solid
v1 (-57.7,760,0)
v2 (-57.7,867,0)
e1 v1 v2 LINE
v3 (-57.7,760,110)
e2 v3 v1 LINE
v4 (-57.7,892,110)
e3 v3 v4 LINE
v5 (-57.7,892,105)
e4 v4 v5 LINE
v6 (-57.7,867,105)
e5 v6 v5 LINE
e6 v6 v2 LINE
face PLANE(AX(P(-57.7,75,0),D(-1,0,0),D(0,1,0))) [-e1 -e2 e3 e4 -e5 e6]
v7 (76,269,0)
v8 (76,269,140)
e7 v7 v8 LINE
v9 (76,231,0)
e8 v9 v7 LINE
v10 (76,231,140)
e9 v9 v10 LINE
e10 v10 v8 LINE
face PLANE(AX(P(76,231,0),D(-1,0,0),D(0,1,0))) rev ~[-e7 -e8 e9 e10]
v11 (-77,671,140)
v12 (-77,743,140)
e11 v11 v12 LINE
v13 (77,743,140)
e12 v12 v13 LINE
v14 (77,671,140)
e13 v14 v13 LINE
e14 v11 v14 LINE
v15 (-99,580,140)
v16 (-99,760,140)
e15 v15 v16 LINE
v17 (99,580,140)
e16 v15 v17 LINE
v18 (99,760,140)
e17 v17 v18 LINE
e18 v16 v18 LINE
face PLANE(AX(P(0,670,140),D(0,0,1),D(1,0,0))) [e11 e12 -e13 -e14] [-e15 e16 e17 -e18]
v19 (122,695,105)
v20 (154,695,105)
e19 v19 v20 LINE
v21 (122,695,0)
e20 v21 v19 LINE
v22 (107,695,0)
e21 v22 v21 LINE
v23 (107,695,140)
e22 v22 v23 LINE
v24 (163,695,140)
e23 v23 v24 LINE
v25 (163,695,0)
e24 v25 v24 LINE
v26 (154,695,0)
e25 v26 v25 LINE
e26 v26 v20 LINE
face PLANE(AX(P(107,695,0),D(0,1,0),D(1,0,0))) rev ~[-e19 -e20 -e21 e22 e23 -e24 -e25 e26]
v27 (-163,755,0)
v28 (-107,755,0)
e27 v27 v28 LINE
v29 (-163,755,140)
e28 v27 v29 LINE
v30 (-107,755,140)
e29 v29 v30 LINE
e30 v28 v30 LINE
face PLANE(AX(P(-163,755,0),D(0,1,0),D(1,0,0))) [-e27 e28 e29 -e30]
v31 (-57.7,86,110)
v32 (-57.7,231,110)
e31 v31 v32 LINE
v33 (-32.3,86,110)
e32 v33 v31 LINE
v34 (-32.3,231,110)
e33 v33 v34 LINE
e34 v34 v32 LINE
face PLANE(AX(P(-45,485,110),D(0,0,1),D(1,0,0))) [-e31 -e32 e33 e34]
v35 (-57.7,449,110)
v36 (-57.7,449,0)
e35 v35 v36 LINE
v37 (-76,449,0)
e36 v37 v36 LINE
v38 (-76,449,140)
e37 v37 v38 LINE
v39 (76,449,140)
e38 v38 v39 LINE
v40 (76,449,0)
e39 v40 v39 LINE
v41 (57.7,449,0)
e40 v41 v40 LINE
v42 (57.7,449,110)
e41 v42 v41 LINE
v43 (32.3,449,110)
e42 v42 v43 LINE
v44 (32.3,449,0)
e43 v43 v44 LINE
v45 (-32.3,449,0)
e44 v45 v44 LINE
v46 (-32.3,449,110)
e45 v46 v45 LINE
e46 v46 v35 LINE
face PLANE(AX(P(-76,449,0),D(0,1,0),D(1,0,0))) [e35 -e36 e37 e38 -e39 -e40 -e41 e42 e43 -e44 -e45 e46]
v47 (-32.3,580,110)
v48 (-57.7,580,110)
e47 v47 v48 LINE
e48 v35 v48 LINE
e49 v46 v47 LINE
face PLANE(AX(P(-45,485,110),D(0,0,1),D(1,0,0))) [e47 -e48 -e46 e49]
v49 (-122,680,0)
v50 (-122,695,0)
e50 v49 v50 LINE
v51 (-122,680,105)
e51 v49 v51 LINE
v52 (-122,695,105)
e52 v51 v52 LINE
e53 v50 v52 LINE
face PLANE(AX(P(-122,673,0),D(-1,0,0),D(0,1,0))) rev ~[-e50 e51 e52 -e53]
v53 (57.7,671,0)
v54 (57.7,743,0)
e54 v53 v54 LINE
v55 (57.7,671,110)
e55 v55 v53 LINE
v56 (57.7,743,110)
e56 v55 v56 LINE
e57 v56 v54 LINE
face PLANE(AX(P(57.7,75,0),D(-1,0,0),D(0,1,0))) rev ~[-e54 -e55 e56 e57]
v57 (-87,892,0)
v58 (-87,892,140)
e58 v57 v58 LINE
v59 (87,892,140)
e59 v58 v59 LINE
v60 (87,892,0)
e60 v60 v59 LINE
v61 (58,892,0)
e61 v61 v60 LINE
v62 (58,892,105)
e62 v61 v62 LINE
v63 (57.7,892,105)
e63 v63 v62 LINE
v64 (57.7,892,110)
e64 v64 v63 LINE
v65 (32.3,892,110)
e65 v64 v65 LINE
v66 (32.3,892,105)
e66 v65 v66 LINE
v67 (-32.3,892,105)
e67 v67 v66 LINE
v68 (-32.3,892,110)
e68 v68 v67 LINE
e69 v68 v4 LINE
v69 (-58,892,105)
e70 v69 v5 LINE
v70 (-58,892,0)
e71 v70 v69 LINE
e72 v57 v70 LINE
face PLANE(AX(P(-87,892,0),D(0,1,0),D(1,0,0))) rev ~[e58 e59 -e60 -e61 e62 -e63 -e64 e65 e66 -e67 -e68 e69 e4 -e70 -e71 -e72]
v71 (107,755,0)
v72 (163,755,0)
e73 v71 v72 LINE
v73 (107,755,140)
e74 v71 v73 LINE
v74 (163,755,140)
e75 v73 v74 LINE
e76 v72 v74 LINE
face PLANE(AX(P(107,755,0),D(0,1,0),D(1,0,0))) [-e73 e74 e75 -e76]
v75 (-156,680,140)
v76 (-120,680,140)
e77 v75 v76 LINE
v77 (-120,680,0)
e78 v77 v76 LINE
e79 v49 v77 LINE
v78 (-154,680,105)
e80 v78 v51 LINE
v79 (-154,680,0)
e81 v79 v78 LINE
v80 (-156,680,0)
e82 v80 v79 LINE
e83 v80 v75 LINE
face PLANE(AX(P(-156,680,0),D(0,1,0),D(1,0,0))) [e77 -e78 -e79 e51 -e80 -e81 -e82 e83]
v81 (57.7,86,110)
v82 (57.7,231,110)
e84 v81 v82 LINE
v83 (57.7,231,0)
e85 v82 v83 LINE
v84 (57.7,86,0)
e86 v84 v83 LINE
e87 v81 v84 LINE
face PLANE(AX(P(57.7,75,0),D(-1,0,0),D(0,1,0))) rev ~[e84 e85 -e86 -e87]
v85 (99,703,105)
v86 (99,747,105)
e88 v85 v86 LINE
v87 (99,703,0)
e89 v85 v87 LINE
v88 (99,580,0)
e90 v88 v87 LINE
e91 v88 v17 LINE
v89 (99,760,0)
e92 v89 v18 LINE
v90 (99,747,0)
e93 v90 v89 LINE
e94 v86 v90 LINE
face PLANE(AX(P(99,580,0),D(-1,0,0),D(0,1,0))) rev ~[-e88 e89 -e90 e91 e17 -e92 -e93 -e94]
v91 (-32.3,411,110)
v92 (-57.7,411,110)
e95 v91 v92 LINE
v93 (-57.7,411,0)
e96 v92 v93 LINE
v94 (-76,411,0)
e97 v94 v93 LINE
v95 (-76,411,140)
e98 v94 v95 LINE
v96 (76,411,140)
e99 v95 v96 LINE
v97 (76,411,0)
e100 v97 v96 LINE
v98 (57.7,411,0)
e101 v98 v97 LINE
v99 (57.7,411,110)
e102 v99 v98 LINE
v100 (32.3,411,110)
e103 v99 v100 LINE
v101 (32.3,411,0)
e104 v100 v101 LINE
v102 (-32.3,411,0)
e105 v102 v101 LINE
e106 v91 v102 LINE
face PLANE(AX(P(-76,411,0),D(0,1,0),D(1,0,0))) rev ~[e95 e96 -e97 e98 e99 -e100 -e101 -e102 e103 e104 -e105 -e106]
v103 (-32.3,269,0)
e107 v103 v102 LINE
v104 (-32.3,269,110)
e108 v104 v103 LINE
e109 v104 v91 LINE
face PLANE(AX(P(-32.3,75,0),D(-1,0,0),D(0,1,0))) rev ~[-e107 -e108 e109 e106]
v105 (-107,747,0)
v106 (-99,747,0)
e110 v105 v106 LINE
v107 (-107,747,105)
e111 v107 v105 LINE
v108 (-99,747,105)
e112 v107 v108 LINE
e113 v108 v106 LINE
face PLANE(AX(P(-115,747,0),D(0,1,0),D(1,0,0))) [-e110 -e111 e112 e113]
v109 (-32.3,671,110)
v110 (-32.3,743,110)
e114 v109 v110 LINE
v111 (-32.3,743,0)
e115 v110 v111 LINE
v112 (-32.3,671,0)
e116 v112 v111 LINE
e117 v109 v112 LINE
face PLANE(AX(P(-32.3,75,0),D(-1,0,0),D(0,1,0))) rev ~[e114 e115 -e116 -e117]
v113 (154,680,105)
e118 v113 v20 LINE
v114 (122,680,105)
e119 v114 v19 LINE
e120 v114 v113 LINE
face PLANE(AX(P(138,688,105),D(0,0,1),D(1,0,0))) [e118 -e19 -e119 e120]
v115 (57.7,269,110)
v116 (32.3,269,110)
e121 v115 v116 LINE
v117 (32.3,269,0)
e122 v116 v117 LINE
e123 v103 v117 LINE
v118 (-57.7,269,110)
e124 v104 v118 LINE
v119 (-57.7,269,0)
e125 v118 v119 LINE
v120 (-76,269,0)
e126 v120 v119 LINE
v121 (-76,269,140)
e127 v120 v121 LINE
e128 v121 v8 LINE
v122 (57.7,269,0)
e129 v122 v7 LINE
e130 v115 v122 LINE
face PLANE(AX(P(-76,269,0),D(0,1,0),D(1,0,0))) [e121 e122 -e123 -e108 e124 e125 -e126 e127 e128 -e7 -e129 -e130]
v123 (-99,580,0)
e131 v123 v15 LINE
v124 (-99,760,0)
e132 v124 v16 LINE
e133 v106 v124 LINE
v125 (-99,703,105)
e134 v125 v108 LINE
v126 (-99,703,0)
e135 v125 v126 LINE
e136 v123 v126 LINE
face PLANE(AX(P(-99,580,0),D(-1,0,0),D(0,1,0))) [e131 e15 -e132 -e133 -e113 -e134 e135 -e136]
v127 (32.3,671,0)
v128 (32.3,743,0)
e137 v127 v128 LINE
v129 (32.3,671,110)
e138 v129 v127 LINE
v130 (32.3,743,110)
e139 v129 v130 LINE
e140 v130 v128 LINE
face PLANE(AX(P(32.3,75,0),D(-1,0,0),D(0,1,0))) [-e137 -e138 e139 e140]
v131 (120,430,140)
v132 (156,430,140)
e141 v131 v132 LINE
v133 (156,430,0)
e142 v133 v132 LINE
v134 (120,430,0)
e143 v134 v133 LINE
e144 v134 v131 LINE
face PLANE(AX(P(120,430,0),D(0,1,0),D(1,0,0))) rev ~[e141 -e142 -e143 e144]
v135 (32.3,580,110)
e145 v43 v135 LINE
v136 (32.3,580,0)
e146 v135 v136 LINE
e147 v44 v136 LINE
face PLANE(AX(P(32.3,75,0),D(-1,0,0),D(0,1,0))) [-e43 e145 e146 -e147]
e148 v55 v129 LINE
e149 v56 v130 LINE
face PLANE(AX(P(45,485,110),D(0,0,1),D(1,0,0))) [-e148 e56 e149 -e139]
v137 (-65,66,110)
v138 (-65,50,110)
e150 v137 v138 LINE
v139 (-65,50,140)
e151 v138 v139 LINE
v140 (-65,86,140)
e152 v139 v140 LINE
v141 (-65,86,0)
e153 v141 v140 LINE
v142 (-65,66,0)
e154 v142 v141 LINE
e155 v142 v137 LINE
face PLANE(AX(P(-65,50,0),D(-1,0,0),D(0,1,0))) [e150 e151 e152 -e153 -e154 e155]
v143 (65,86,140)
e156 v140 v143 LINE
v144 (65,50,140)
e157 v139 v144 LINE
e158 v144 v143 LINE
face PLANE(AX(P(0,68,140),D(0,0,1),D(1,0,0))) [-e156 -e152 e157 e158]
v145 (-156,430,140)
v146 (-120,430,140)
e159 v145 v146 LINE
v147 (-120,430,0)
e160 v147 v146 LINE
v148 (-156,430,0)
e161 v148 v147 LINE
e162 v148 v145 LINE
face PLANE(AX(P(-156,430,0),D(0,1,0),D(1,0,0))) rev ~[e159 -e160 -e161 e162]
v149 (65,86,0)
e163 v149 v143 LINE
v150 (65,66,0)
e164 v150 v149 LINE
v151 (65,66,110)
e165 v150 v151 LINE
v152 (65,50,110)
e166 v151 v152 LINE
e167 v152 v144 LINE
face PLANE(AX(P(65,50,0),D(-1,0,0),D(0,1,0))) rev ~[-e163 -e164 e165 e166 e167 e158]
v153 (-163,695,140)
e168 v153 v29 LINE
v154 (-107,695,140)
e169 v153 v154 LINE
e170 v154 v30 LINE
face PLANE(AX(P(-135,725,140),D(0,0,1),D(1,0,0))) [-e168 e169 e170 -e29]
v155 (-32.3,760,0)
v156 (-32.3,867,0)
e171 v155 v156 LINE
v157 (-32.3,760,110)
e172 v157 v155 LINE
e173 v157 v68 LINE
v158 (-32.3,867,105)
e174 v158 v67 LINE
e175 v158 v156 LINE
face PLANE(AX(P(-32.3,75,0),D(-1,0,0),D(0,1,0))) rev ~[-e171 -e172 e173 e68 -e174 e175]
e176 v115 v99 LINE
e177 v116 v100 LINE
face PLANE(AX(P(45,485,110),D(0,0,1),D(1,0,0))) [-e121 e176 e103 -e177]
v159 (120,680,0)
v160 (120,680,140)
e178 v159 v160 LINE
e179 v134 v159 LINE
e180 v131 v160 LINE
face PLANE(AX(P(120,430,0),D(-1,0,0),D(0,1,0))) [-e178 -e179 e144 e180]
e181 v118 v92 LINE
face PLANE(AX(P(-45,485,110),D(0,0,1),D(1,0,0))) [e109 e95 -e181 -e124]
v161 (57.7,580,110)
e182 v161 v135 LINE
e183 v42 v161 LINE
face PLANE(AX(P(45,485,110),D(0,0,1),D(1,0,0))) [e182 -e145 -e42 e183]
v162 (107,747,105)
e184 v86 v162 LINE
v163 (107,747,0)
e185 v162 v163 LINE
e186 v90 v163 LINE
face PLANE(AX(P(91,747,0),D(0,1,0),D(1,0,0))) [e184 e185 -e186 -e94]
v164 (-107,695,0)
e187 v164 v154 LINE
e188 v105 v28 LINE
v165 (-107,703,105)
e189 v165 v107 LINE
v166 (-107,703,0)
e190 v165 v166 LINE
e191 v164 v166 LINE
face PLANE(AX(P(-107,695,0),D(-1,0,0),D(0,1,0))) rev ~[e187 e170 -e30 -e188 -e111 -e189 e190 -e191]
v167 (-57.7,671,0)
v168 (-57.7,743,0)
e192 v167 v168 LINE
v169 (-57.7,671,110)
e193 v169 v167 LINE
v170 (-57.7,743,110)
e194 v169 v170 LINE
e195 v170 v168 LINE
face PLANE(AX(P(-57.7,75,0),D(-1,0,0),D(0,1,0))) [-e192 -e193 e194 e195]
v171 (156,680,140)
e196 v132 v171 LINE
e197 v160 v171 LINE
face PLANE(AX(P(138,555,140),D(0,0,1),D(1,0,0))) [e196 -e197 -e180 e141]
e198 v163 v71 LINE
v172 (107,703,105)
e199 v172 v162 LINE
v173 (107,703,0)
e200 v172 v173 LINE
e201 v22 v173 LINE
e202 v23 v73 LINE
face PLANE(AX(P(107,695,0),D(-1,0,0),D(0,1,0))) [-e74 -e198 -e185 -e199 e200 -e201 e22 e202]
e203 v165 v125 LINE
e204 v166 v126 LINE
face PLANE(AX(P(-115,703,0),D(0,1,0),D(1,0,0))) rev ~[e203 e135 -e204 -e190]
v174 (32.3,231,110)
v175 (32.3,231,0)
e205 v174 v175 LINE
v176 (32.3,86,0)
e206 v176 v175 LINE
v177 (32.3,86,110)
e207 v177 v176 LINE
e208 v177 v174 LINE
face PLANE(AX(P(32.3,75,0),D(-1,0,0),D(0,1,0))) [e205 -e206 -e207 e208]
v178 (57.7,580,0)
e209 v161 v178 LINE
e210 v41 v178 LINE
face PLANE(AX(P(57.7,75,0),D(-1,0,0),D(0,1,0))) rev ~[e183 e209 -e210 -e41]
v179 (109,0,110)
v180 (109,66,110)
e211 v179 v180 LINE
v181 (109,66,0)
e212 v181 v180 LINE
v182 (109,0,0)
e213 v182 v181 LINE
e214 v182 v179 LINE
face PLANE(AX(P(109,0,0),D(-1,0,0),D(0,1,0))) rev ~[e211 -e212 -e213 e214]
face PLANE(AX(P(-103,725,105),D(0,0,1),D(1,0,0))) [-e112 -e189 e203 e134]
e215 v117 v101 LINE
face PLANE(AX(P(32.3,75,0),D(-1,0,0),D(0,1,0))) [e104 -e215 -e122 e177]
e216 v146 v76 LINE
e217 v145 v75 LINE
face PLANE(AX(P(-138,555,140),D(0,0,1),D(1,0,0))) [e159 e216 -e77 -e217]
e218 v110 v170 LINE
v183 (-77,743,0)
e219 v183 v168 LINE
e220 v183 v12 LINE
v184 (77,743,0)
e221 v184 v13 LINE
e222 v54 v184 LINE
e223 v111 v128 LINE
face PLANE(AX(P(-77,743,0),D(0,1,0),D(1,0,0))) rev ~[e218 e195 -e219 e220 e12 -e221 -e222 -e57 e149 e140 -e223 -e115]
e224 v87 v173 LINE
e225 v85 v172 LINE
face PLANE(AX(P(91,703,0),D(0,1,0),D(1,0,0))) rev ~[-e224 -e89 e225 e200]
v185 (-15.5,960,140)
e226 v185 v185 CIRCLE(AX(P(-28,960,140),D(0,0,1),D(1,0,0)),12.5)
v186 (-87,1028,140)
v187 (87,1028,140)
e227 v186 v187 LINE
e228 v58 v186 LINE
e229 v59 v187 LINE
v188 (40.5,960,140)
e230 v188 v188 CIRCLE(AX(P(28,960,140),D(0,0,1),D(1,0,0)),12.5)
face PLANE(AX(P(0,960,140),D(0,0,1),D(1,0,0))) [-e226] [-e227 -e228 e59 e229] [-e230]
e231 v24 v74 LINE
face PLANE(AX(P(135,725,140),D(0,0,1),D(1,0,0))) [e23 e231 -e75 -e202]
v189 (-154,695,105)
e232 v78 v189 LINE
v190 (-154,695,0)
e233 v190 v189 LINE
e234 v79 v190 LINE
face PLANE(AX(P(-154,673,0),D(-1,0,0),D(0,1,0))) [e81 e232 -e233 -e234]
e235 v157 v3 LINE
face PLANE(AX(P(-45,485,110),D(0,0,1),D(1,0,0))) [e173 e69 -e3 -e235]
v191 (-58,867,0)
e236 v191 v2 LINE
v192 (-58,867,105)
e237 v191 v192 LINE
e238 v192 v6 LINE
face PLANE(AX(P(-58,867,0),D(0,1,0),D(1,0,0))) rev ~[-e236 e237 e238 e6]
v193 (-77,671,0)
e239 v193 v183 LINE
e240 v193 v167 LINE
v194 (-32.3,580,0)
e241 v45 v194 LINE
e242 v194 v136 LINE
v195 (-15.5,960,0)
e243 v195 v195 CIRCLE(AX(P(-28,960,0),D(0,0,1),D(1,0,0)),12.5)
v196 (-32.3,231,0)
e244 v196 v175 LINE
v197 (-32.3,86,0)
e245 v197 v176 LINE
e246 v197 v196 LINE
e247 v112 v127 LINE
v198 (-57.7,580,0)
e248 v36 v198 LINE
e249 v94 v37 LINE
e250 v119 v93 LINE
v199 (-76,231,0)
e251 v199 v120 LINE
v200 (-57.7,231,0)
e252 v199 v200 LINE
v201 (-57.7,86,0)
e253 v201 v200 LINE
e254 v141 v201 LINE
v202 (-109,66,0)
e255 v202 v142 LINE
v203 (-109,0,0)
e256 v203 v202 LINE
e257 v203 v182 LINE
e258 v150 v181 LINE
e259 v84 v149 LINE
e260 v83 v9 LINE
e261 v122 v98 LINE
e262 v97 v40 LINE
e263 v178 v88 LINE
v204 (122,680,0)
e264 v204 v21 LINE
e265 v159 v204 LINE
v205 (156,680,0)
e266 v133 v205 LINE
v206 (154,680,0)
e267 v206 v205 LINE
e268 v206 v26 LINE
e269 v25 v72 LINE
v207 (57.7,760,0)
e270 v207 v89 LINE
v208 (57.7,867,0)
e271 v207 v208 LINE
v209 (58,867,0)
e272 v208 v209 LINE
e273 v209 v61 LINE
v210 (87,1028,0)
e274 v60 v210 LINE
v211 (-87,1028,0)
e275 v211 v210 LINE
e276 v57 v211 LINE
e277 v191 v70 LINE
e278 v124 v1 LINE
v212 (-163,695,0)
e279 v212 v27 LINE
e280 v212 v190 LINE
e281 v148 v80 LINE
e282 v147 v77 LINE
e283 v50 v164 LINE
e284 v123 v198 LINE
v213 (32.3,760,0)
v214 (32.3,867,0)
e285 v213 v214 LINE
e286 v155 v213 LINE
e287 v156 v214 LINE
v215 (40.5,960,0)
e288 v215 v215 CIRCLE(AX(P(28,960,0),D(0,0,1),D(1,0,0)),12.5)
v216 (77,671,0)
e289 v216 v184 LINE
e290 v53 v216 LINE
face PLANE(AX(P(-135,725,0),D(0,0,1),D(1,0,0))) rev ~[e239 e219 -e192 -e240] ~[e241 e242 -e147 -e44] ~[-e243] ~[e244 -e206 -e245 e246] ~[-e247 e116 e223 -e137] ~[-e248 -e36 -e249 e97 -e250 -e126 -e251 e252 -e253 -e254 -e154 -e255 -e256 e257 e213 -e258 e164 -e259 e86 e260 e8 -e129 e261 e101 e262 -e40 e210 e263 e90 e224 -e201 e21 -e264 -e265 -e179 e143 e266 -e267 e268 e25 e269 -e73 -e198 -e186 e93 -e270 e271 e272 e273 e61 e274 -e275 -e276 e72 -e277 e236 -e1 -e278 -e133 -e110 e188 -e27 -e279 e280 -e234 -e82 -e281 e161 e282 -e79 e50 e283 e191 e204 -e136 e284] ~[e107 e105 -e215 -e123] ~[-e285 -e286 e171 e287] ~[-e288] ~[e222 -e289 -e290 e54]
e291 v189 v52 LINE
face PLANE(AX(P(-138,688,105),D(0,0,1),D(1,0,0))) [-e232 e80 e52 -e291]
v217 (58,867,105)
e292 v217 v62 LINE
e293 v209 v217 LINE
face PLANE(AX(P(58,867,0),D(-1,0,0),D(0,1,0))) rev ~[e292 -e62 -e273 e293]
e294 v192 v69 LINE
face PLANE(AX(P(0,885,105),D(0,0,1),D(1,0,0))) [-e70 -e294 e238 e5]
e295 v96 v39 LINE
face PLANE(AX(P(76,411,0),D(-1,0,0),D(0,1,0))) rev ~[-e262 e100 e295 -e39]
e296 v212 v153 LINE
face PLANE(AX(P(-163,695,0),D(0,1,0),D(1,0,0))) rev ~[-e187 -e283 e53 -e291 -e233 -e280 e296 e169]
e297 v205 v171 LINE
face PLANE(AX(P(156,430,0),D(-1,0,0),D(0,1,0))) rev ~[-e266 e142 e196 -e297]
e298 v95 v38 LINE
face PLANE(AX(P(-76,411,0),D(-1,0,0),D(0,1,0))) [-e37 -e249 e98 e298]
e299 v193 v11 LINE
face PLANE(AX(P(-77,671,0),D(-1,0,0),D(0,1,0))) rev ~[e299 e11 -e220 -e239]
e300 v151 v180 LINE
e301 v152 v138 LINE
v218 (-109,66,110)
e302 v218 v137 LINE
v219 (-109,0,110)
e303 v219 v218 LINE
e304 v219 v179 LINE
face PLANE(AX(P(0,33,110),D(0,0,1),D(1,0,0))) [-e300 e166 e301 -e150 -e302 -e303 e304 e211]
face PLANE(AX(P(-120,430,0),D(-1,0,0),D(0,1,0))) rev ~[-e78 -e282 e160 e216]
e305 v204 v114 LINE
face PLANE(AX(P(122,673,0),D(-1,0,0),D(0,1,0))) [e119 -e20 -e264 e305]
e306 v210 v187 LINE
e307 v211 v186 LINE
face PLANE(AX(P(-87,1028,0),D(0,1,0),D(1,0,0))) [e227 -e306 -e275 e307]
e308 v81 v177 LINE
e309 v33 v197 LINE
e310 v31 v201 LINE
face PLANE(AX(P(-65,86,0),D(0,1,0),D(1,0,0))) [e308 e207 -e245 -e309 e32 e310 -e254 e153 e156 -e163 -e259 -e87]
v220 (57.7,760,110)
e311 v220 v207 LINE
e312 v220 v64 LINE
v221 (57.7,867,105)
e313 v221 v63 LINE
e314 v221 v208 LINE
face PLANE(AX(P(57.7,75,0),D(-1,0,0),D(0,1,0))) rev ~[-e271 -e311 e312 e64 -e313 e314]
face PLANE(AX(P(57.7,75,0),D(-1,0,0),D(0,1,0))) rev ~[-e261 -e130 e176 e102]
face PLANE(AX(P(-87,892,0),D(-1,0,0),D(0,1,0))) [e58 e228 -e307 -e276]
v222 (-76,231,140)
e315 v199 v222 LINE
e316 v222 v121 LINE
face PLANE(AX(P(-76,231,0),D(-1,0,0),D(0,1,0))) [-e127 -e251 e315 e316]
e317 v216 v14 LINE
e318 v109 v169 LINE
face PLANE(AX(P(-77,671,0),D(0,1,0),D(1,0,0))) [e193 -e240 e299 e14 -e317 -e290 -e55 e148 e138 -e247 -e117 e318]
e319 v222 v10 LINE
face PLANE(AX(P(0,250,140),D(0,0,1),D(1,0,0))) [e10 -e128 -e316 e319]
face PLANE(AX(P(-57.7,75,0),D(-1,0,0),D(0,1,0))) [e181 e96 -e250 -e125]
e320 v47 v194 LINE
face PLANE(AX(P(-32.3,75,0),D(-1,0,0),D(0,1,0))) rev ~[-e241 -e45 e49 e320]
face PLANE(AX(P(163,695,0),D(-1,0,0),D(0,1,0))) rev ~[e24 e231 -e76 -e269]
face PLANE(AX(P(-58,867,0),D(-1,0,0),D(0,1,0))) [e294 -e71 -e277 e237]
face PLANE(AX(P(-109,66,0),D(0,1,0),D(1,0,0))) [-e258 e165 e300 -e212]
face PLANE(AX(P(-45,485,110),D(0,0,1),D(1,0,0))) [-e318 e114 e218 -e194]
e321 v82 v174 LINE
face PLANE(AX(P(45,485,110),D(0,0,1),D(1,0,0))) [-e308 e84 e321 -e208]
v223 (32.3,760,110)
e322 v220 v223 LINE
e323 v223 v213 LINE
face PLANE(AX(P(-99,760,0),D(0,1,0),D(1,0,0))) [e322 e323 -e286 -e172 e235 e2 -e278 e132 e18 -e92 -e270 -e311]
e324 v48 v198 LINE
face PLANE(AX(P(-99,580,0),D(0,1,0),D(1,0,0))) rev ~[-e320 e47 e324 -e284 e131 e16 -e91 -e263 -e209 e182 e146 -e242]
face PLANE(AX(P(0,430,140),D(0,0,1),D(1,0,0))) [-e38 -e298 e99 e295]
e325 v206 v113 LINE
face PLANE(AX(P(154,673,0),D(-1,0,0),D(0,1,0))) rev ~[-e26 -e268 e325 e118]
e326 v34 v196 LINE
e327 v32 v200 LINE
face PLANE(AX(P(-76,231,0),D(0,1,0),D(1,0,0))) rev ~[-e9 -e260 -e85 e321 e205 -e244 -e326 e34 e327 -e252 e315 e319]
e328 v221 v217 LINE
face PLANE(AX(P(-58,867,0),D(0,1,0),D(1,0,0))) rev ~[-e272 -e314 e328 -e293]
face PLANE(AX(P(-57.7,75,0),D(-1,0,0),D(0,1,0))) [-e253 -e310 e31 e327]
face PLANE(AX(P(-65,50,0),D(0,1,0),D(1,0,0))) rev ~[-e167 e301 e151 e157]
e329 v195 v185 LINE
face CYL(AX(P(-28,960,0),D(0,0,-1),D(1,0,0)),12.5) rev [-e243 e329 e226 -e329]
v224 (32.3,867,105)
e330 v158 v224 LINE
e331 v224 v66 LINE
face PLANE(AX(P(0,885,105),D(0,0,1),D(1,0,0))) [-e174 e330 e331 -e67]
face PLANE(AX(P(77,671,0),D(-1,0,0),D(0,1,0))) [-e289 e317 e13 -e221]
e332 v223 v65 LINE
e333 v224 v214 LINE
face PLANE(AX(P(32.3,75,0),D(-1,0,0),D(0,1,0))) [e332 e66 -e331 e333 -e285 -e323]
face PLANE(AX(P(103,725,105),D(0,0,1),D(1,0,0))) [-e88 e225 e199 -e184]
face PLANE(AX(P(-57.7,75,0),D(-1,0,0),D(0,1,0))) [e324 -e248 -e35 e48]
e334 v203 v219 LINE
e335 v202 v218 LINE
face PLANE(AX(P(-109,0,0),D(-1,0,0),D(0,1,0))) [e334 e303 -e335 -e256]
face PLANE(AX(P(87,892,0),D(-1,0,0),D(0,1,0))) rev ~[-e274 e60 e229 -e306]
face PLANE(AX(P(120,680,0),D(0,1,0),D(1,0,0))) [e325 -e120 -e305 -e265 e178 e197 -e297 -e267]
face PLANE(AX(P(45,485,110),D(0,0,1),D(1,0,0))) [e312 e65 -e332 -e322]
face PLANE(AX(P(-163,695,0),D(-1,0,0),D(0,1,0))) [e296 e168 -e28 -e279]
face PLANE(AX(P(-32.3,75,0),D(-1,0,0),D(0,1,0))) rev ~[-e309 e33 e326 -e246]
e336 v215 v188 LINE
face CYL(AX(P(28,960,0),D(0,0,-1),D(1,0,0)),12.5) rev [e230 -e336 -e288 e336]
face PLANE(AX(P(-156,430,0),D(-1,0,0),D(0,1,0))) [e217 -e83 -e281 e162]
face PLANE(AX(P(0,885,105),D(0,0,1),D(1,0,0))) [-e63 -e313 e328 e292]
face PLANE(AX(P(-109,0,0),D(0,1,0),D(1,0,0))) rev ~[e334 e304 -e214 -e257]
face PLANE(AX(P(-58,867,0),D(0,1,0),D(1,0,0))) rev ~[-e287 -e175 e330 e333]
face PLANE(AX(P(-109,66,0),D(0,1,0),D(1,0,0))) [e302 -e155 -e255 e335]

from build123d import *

# Parameters (mm, degrees)
SKETCH1_W             = 218
SKETCH1_H             = 66
BOSS_EXTRUDE1_DEPTH   = 110
SKETCH1_W_2           = 25.4
SKETCH1_H_2           = 820
BOSS_EXTRUDE1_2_DEPTH = 110
BOSS_EXTRUDE1_3_DEPTH = 110
SKETCH2_W             = 130
SKETCH2_H             = 36
SKETCH2_W_2           = 152
SKETCH2_H_2           = 38
SKETCH2_W_3           = 198
SKETCH2_H_3           = 180
SKETCH2_W_4           = 154
SKETCH2_H_4           = 72
SKETCH2_W_5           = 56
SKETCH2_H_5           = 60
SKETCH2_W_6           = 36
SKETCH2_H_6           = 250
SKETCH2_W_7           = 174
SKETCH2_H_7           = 136
SKETCH2_R             = 12.5
BOSS_EXTRUDE2_DEPTH   = 140
SKETCH3_W             = 24
SKETCH3_H             = 44
SKETCH3_W_2           = 32
SKETCH3_H_2           = 30
SKETCH3_W_3           = 116
SKETCH3_H_3           = 36
BOSS_EXTRUDE3_DEPTH   = 105


with BuildPart() as part:
    # Sketch1 → Boss-Extrude1 (new body)
    with BuildSketch(Plane.XY):
        with Locations((0, 33)):
            Rectangle(SKETCH1_W, SKETCH1_H)
    extrude(amount=BOSS_EXTRUDE1_DEPTH)



with BuildPart() as body_2:
    # Sketch1 → Boss-Extrude1 2 (new body)
    with BuildSketch(Plane.XY):
        with Locations((-45, 485)):
            Rectangle(SKETCH1_W_2, SKETCH1_H_2)
    extrude(amount=BOSS_EXTRUDE1_2_DEPTH)


with BuildPart() as body_3:
    # Sketch1 → Boss-Extrude1 3 (new body)
    with BuildSketch(Plane.XY):
        with Locations((45, 485)):
            Rectangle(SKETCH1_W_2, SKETCH1_H_2)
    extrude(amount=BOSS_EXTRUDE1_3_DEPTH)


with BuildPart() as part_1:
    add(part.part)

    add(body_2.part)  # Boss-Extrude2 merges body 2

    add(body_3.part)  # Boss-Extrude2 merges body 3
    # Sketch2 → Boss-Extrude2 (add)
    # profile 1 of 9: a face of its own
    with BuildSketch(Plane.XY):
        with Locations((0, 68)):
            Rectangle(SKETCH2_W, SKETCH2_H)
    # profile 2 of 9: a face of its own
    with BuildSketch(Plane.XY):
        with Locations((0, 250)):
            Rectangle(SKETCH2_W_2, SKETCH2_H_2)
    # profile 3 of 9: a face of its own
    with BuildSketch(Plane.XY):
        with Locations((0, 430)):
            Rectangle(SKETCH2_W_2, SKETCH2_H_2)
    # profile 4 of 9: a face of its own
    with BuildSketch(Plane.XY):
        with Locations((0, 670)):
            Rectangle(SKETCH2_W_3, SKETCH2_H_3)
        with Locations((0, 707)):
            Rectangle(SKETCH2_W_4, SKETCH2_H_4, mode=Mode.SUBTRACT)
    # profile 5 of 9: a face of its own
    with BuildSketch(Plane.XY):
        with Locations((-135, 725)):
            Rectangle(SKETCH2_W_5, SKETCH2_H_5)
    # profile 6 of 9: a face of its own
    with BuildSketch(Plane.XY):
        with Locations((135, 725)):
            Rectangle(SKETCH2_W_5, SKETCH2_H_5)
    # profile 7 of 9: a face of its own
    with BuildSketch(Plane.XY):
        with Locations((-138, 555)):
            Rectangle(SKETCH2_W_6, SKETCH2_H_6)
    # profile 8 of 9: a face of its own
    with BuildSketch(Plane.XY):
        with Locations((138, 555)):
            Rectangle(SKETCH2_W_6, SKETCH2_H_6)
    # profile 9 of 9: a face of its own
    with BuildSketch(Plane.XY):
        with Locations((0, 960)):
            Rectangle(SKETCH2_W_7, SKETCH2_H_7)
        with Locations((-28, 960)):
            Circle(SKETCH2_R, mode=Mode.SUBTRACT)
        with Locations((28, 960)):
            Circle(SKETCH2_R, mode=Mode.SUBTRACT)
    extrude(amount=BOSS_EXTRUDE2_DEPTH)

    # Sketch3 → Boss-Extrude3 (add)
    with BuildSketch(Plane.XY):
        with Locations((-103, 725)):
            Rectangle(SKETCH3_W, SKETCH3_H)
        with Locations((103, 725)):
            Rectangle(SKETCH3_W, SKETCH3_H)
        with Locations((-138, 688)):
            Rectangle(SKETCH3_W_2, SKETCH3_H_2)
        with Locations((138, 688)):
            Rectangle(SKETCH3_W_2, SKETCH3_H_2)
        with Locations((0, 885)):
            Rectangle(SKETCH3_W_3, SKETCH3_H_3)
    extrude(amount=BOSS_EXTRUDE3_DEPTH)


solid = part_1.part
